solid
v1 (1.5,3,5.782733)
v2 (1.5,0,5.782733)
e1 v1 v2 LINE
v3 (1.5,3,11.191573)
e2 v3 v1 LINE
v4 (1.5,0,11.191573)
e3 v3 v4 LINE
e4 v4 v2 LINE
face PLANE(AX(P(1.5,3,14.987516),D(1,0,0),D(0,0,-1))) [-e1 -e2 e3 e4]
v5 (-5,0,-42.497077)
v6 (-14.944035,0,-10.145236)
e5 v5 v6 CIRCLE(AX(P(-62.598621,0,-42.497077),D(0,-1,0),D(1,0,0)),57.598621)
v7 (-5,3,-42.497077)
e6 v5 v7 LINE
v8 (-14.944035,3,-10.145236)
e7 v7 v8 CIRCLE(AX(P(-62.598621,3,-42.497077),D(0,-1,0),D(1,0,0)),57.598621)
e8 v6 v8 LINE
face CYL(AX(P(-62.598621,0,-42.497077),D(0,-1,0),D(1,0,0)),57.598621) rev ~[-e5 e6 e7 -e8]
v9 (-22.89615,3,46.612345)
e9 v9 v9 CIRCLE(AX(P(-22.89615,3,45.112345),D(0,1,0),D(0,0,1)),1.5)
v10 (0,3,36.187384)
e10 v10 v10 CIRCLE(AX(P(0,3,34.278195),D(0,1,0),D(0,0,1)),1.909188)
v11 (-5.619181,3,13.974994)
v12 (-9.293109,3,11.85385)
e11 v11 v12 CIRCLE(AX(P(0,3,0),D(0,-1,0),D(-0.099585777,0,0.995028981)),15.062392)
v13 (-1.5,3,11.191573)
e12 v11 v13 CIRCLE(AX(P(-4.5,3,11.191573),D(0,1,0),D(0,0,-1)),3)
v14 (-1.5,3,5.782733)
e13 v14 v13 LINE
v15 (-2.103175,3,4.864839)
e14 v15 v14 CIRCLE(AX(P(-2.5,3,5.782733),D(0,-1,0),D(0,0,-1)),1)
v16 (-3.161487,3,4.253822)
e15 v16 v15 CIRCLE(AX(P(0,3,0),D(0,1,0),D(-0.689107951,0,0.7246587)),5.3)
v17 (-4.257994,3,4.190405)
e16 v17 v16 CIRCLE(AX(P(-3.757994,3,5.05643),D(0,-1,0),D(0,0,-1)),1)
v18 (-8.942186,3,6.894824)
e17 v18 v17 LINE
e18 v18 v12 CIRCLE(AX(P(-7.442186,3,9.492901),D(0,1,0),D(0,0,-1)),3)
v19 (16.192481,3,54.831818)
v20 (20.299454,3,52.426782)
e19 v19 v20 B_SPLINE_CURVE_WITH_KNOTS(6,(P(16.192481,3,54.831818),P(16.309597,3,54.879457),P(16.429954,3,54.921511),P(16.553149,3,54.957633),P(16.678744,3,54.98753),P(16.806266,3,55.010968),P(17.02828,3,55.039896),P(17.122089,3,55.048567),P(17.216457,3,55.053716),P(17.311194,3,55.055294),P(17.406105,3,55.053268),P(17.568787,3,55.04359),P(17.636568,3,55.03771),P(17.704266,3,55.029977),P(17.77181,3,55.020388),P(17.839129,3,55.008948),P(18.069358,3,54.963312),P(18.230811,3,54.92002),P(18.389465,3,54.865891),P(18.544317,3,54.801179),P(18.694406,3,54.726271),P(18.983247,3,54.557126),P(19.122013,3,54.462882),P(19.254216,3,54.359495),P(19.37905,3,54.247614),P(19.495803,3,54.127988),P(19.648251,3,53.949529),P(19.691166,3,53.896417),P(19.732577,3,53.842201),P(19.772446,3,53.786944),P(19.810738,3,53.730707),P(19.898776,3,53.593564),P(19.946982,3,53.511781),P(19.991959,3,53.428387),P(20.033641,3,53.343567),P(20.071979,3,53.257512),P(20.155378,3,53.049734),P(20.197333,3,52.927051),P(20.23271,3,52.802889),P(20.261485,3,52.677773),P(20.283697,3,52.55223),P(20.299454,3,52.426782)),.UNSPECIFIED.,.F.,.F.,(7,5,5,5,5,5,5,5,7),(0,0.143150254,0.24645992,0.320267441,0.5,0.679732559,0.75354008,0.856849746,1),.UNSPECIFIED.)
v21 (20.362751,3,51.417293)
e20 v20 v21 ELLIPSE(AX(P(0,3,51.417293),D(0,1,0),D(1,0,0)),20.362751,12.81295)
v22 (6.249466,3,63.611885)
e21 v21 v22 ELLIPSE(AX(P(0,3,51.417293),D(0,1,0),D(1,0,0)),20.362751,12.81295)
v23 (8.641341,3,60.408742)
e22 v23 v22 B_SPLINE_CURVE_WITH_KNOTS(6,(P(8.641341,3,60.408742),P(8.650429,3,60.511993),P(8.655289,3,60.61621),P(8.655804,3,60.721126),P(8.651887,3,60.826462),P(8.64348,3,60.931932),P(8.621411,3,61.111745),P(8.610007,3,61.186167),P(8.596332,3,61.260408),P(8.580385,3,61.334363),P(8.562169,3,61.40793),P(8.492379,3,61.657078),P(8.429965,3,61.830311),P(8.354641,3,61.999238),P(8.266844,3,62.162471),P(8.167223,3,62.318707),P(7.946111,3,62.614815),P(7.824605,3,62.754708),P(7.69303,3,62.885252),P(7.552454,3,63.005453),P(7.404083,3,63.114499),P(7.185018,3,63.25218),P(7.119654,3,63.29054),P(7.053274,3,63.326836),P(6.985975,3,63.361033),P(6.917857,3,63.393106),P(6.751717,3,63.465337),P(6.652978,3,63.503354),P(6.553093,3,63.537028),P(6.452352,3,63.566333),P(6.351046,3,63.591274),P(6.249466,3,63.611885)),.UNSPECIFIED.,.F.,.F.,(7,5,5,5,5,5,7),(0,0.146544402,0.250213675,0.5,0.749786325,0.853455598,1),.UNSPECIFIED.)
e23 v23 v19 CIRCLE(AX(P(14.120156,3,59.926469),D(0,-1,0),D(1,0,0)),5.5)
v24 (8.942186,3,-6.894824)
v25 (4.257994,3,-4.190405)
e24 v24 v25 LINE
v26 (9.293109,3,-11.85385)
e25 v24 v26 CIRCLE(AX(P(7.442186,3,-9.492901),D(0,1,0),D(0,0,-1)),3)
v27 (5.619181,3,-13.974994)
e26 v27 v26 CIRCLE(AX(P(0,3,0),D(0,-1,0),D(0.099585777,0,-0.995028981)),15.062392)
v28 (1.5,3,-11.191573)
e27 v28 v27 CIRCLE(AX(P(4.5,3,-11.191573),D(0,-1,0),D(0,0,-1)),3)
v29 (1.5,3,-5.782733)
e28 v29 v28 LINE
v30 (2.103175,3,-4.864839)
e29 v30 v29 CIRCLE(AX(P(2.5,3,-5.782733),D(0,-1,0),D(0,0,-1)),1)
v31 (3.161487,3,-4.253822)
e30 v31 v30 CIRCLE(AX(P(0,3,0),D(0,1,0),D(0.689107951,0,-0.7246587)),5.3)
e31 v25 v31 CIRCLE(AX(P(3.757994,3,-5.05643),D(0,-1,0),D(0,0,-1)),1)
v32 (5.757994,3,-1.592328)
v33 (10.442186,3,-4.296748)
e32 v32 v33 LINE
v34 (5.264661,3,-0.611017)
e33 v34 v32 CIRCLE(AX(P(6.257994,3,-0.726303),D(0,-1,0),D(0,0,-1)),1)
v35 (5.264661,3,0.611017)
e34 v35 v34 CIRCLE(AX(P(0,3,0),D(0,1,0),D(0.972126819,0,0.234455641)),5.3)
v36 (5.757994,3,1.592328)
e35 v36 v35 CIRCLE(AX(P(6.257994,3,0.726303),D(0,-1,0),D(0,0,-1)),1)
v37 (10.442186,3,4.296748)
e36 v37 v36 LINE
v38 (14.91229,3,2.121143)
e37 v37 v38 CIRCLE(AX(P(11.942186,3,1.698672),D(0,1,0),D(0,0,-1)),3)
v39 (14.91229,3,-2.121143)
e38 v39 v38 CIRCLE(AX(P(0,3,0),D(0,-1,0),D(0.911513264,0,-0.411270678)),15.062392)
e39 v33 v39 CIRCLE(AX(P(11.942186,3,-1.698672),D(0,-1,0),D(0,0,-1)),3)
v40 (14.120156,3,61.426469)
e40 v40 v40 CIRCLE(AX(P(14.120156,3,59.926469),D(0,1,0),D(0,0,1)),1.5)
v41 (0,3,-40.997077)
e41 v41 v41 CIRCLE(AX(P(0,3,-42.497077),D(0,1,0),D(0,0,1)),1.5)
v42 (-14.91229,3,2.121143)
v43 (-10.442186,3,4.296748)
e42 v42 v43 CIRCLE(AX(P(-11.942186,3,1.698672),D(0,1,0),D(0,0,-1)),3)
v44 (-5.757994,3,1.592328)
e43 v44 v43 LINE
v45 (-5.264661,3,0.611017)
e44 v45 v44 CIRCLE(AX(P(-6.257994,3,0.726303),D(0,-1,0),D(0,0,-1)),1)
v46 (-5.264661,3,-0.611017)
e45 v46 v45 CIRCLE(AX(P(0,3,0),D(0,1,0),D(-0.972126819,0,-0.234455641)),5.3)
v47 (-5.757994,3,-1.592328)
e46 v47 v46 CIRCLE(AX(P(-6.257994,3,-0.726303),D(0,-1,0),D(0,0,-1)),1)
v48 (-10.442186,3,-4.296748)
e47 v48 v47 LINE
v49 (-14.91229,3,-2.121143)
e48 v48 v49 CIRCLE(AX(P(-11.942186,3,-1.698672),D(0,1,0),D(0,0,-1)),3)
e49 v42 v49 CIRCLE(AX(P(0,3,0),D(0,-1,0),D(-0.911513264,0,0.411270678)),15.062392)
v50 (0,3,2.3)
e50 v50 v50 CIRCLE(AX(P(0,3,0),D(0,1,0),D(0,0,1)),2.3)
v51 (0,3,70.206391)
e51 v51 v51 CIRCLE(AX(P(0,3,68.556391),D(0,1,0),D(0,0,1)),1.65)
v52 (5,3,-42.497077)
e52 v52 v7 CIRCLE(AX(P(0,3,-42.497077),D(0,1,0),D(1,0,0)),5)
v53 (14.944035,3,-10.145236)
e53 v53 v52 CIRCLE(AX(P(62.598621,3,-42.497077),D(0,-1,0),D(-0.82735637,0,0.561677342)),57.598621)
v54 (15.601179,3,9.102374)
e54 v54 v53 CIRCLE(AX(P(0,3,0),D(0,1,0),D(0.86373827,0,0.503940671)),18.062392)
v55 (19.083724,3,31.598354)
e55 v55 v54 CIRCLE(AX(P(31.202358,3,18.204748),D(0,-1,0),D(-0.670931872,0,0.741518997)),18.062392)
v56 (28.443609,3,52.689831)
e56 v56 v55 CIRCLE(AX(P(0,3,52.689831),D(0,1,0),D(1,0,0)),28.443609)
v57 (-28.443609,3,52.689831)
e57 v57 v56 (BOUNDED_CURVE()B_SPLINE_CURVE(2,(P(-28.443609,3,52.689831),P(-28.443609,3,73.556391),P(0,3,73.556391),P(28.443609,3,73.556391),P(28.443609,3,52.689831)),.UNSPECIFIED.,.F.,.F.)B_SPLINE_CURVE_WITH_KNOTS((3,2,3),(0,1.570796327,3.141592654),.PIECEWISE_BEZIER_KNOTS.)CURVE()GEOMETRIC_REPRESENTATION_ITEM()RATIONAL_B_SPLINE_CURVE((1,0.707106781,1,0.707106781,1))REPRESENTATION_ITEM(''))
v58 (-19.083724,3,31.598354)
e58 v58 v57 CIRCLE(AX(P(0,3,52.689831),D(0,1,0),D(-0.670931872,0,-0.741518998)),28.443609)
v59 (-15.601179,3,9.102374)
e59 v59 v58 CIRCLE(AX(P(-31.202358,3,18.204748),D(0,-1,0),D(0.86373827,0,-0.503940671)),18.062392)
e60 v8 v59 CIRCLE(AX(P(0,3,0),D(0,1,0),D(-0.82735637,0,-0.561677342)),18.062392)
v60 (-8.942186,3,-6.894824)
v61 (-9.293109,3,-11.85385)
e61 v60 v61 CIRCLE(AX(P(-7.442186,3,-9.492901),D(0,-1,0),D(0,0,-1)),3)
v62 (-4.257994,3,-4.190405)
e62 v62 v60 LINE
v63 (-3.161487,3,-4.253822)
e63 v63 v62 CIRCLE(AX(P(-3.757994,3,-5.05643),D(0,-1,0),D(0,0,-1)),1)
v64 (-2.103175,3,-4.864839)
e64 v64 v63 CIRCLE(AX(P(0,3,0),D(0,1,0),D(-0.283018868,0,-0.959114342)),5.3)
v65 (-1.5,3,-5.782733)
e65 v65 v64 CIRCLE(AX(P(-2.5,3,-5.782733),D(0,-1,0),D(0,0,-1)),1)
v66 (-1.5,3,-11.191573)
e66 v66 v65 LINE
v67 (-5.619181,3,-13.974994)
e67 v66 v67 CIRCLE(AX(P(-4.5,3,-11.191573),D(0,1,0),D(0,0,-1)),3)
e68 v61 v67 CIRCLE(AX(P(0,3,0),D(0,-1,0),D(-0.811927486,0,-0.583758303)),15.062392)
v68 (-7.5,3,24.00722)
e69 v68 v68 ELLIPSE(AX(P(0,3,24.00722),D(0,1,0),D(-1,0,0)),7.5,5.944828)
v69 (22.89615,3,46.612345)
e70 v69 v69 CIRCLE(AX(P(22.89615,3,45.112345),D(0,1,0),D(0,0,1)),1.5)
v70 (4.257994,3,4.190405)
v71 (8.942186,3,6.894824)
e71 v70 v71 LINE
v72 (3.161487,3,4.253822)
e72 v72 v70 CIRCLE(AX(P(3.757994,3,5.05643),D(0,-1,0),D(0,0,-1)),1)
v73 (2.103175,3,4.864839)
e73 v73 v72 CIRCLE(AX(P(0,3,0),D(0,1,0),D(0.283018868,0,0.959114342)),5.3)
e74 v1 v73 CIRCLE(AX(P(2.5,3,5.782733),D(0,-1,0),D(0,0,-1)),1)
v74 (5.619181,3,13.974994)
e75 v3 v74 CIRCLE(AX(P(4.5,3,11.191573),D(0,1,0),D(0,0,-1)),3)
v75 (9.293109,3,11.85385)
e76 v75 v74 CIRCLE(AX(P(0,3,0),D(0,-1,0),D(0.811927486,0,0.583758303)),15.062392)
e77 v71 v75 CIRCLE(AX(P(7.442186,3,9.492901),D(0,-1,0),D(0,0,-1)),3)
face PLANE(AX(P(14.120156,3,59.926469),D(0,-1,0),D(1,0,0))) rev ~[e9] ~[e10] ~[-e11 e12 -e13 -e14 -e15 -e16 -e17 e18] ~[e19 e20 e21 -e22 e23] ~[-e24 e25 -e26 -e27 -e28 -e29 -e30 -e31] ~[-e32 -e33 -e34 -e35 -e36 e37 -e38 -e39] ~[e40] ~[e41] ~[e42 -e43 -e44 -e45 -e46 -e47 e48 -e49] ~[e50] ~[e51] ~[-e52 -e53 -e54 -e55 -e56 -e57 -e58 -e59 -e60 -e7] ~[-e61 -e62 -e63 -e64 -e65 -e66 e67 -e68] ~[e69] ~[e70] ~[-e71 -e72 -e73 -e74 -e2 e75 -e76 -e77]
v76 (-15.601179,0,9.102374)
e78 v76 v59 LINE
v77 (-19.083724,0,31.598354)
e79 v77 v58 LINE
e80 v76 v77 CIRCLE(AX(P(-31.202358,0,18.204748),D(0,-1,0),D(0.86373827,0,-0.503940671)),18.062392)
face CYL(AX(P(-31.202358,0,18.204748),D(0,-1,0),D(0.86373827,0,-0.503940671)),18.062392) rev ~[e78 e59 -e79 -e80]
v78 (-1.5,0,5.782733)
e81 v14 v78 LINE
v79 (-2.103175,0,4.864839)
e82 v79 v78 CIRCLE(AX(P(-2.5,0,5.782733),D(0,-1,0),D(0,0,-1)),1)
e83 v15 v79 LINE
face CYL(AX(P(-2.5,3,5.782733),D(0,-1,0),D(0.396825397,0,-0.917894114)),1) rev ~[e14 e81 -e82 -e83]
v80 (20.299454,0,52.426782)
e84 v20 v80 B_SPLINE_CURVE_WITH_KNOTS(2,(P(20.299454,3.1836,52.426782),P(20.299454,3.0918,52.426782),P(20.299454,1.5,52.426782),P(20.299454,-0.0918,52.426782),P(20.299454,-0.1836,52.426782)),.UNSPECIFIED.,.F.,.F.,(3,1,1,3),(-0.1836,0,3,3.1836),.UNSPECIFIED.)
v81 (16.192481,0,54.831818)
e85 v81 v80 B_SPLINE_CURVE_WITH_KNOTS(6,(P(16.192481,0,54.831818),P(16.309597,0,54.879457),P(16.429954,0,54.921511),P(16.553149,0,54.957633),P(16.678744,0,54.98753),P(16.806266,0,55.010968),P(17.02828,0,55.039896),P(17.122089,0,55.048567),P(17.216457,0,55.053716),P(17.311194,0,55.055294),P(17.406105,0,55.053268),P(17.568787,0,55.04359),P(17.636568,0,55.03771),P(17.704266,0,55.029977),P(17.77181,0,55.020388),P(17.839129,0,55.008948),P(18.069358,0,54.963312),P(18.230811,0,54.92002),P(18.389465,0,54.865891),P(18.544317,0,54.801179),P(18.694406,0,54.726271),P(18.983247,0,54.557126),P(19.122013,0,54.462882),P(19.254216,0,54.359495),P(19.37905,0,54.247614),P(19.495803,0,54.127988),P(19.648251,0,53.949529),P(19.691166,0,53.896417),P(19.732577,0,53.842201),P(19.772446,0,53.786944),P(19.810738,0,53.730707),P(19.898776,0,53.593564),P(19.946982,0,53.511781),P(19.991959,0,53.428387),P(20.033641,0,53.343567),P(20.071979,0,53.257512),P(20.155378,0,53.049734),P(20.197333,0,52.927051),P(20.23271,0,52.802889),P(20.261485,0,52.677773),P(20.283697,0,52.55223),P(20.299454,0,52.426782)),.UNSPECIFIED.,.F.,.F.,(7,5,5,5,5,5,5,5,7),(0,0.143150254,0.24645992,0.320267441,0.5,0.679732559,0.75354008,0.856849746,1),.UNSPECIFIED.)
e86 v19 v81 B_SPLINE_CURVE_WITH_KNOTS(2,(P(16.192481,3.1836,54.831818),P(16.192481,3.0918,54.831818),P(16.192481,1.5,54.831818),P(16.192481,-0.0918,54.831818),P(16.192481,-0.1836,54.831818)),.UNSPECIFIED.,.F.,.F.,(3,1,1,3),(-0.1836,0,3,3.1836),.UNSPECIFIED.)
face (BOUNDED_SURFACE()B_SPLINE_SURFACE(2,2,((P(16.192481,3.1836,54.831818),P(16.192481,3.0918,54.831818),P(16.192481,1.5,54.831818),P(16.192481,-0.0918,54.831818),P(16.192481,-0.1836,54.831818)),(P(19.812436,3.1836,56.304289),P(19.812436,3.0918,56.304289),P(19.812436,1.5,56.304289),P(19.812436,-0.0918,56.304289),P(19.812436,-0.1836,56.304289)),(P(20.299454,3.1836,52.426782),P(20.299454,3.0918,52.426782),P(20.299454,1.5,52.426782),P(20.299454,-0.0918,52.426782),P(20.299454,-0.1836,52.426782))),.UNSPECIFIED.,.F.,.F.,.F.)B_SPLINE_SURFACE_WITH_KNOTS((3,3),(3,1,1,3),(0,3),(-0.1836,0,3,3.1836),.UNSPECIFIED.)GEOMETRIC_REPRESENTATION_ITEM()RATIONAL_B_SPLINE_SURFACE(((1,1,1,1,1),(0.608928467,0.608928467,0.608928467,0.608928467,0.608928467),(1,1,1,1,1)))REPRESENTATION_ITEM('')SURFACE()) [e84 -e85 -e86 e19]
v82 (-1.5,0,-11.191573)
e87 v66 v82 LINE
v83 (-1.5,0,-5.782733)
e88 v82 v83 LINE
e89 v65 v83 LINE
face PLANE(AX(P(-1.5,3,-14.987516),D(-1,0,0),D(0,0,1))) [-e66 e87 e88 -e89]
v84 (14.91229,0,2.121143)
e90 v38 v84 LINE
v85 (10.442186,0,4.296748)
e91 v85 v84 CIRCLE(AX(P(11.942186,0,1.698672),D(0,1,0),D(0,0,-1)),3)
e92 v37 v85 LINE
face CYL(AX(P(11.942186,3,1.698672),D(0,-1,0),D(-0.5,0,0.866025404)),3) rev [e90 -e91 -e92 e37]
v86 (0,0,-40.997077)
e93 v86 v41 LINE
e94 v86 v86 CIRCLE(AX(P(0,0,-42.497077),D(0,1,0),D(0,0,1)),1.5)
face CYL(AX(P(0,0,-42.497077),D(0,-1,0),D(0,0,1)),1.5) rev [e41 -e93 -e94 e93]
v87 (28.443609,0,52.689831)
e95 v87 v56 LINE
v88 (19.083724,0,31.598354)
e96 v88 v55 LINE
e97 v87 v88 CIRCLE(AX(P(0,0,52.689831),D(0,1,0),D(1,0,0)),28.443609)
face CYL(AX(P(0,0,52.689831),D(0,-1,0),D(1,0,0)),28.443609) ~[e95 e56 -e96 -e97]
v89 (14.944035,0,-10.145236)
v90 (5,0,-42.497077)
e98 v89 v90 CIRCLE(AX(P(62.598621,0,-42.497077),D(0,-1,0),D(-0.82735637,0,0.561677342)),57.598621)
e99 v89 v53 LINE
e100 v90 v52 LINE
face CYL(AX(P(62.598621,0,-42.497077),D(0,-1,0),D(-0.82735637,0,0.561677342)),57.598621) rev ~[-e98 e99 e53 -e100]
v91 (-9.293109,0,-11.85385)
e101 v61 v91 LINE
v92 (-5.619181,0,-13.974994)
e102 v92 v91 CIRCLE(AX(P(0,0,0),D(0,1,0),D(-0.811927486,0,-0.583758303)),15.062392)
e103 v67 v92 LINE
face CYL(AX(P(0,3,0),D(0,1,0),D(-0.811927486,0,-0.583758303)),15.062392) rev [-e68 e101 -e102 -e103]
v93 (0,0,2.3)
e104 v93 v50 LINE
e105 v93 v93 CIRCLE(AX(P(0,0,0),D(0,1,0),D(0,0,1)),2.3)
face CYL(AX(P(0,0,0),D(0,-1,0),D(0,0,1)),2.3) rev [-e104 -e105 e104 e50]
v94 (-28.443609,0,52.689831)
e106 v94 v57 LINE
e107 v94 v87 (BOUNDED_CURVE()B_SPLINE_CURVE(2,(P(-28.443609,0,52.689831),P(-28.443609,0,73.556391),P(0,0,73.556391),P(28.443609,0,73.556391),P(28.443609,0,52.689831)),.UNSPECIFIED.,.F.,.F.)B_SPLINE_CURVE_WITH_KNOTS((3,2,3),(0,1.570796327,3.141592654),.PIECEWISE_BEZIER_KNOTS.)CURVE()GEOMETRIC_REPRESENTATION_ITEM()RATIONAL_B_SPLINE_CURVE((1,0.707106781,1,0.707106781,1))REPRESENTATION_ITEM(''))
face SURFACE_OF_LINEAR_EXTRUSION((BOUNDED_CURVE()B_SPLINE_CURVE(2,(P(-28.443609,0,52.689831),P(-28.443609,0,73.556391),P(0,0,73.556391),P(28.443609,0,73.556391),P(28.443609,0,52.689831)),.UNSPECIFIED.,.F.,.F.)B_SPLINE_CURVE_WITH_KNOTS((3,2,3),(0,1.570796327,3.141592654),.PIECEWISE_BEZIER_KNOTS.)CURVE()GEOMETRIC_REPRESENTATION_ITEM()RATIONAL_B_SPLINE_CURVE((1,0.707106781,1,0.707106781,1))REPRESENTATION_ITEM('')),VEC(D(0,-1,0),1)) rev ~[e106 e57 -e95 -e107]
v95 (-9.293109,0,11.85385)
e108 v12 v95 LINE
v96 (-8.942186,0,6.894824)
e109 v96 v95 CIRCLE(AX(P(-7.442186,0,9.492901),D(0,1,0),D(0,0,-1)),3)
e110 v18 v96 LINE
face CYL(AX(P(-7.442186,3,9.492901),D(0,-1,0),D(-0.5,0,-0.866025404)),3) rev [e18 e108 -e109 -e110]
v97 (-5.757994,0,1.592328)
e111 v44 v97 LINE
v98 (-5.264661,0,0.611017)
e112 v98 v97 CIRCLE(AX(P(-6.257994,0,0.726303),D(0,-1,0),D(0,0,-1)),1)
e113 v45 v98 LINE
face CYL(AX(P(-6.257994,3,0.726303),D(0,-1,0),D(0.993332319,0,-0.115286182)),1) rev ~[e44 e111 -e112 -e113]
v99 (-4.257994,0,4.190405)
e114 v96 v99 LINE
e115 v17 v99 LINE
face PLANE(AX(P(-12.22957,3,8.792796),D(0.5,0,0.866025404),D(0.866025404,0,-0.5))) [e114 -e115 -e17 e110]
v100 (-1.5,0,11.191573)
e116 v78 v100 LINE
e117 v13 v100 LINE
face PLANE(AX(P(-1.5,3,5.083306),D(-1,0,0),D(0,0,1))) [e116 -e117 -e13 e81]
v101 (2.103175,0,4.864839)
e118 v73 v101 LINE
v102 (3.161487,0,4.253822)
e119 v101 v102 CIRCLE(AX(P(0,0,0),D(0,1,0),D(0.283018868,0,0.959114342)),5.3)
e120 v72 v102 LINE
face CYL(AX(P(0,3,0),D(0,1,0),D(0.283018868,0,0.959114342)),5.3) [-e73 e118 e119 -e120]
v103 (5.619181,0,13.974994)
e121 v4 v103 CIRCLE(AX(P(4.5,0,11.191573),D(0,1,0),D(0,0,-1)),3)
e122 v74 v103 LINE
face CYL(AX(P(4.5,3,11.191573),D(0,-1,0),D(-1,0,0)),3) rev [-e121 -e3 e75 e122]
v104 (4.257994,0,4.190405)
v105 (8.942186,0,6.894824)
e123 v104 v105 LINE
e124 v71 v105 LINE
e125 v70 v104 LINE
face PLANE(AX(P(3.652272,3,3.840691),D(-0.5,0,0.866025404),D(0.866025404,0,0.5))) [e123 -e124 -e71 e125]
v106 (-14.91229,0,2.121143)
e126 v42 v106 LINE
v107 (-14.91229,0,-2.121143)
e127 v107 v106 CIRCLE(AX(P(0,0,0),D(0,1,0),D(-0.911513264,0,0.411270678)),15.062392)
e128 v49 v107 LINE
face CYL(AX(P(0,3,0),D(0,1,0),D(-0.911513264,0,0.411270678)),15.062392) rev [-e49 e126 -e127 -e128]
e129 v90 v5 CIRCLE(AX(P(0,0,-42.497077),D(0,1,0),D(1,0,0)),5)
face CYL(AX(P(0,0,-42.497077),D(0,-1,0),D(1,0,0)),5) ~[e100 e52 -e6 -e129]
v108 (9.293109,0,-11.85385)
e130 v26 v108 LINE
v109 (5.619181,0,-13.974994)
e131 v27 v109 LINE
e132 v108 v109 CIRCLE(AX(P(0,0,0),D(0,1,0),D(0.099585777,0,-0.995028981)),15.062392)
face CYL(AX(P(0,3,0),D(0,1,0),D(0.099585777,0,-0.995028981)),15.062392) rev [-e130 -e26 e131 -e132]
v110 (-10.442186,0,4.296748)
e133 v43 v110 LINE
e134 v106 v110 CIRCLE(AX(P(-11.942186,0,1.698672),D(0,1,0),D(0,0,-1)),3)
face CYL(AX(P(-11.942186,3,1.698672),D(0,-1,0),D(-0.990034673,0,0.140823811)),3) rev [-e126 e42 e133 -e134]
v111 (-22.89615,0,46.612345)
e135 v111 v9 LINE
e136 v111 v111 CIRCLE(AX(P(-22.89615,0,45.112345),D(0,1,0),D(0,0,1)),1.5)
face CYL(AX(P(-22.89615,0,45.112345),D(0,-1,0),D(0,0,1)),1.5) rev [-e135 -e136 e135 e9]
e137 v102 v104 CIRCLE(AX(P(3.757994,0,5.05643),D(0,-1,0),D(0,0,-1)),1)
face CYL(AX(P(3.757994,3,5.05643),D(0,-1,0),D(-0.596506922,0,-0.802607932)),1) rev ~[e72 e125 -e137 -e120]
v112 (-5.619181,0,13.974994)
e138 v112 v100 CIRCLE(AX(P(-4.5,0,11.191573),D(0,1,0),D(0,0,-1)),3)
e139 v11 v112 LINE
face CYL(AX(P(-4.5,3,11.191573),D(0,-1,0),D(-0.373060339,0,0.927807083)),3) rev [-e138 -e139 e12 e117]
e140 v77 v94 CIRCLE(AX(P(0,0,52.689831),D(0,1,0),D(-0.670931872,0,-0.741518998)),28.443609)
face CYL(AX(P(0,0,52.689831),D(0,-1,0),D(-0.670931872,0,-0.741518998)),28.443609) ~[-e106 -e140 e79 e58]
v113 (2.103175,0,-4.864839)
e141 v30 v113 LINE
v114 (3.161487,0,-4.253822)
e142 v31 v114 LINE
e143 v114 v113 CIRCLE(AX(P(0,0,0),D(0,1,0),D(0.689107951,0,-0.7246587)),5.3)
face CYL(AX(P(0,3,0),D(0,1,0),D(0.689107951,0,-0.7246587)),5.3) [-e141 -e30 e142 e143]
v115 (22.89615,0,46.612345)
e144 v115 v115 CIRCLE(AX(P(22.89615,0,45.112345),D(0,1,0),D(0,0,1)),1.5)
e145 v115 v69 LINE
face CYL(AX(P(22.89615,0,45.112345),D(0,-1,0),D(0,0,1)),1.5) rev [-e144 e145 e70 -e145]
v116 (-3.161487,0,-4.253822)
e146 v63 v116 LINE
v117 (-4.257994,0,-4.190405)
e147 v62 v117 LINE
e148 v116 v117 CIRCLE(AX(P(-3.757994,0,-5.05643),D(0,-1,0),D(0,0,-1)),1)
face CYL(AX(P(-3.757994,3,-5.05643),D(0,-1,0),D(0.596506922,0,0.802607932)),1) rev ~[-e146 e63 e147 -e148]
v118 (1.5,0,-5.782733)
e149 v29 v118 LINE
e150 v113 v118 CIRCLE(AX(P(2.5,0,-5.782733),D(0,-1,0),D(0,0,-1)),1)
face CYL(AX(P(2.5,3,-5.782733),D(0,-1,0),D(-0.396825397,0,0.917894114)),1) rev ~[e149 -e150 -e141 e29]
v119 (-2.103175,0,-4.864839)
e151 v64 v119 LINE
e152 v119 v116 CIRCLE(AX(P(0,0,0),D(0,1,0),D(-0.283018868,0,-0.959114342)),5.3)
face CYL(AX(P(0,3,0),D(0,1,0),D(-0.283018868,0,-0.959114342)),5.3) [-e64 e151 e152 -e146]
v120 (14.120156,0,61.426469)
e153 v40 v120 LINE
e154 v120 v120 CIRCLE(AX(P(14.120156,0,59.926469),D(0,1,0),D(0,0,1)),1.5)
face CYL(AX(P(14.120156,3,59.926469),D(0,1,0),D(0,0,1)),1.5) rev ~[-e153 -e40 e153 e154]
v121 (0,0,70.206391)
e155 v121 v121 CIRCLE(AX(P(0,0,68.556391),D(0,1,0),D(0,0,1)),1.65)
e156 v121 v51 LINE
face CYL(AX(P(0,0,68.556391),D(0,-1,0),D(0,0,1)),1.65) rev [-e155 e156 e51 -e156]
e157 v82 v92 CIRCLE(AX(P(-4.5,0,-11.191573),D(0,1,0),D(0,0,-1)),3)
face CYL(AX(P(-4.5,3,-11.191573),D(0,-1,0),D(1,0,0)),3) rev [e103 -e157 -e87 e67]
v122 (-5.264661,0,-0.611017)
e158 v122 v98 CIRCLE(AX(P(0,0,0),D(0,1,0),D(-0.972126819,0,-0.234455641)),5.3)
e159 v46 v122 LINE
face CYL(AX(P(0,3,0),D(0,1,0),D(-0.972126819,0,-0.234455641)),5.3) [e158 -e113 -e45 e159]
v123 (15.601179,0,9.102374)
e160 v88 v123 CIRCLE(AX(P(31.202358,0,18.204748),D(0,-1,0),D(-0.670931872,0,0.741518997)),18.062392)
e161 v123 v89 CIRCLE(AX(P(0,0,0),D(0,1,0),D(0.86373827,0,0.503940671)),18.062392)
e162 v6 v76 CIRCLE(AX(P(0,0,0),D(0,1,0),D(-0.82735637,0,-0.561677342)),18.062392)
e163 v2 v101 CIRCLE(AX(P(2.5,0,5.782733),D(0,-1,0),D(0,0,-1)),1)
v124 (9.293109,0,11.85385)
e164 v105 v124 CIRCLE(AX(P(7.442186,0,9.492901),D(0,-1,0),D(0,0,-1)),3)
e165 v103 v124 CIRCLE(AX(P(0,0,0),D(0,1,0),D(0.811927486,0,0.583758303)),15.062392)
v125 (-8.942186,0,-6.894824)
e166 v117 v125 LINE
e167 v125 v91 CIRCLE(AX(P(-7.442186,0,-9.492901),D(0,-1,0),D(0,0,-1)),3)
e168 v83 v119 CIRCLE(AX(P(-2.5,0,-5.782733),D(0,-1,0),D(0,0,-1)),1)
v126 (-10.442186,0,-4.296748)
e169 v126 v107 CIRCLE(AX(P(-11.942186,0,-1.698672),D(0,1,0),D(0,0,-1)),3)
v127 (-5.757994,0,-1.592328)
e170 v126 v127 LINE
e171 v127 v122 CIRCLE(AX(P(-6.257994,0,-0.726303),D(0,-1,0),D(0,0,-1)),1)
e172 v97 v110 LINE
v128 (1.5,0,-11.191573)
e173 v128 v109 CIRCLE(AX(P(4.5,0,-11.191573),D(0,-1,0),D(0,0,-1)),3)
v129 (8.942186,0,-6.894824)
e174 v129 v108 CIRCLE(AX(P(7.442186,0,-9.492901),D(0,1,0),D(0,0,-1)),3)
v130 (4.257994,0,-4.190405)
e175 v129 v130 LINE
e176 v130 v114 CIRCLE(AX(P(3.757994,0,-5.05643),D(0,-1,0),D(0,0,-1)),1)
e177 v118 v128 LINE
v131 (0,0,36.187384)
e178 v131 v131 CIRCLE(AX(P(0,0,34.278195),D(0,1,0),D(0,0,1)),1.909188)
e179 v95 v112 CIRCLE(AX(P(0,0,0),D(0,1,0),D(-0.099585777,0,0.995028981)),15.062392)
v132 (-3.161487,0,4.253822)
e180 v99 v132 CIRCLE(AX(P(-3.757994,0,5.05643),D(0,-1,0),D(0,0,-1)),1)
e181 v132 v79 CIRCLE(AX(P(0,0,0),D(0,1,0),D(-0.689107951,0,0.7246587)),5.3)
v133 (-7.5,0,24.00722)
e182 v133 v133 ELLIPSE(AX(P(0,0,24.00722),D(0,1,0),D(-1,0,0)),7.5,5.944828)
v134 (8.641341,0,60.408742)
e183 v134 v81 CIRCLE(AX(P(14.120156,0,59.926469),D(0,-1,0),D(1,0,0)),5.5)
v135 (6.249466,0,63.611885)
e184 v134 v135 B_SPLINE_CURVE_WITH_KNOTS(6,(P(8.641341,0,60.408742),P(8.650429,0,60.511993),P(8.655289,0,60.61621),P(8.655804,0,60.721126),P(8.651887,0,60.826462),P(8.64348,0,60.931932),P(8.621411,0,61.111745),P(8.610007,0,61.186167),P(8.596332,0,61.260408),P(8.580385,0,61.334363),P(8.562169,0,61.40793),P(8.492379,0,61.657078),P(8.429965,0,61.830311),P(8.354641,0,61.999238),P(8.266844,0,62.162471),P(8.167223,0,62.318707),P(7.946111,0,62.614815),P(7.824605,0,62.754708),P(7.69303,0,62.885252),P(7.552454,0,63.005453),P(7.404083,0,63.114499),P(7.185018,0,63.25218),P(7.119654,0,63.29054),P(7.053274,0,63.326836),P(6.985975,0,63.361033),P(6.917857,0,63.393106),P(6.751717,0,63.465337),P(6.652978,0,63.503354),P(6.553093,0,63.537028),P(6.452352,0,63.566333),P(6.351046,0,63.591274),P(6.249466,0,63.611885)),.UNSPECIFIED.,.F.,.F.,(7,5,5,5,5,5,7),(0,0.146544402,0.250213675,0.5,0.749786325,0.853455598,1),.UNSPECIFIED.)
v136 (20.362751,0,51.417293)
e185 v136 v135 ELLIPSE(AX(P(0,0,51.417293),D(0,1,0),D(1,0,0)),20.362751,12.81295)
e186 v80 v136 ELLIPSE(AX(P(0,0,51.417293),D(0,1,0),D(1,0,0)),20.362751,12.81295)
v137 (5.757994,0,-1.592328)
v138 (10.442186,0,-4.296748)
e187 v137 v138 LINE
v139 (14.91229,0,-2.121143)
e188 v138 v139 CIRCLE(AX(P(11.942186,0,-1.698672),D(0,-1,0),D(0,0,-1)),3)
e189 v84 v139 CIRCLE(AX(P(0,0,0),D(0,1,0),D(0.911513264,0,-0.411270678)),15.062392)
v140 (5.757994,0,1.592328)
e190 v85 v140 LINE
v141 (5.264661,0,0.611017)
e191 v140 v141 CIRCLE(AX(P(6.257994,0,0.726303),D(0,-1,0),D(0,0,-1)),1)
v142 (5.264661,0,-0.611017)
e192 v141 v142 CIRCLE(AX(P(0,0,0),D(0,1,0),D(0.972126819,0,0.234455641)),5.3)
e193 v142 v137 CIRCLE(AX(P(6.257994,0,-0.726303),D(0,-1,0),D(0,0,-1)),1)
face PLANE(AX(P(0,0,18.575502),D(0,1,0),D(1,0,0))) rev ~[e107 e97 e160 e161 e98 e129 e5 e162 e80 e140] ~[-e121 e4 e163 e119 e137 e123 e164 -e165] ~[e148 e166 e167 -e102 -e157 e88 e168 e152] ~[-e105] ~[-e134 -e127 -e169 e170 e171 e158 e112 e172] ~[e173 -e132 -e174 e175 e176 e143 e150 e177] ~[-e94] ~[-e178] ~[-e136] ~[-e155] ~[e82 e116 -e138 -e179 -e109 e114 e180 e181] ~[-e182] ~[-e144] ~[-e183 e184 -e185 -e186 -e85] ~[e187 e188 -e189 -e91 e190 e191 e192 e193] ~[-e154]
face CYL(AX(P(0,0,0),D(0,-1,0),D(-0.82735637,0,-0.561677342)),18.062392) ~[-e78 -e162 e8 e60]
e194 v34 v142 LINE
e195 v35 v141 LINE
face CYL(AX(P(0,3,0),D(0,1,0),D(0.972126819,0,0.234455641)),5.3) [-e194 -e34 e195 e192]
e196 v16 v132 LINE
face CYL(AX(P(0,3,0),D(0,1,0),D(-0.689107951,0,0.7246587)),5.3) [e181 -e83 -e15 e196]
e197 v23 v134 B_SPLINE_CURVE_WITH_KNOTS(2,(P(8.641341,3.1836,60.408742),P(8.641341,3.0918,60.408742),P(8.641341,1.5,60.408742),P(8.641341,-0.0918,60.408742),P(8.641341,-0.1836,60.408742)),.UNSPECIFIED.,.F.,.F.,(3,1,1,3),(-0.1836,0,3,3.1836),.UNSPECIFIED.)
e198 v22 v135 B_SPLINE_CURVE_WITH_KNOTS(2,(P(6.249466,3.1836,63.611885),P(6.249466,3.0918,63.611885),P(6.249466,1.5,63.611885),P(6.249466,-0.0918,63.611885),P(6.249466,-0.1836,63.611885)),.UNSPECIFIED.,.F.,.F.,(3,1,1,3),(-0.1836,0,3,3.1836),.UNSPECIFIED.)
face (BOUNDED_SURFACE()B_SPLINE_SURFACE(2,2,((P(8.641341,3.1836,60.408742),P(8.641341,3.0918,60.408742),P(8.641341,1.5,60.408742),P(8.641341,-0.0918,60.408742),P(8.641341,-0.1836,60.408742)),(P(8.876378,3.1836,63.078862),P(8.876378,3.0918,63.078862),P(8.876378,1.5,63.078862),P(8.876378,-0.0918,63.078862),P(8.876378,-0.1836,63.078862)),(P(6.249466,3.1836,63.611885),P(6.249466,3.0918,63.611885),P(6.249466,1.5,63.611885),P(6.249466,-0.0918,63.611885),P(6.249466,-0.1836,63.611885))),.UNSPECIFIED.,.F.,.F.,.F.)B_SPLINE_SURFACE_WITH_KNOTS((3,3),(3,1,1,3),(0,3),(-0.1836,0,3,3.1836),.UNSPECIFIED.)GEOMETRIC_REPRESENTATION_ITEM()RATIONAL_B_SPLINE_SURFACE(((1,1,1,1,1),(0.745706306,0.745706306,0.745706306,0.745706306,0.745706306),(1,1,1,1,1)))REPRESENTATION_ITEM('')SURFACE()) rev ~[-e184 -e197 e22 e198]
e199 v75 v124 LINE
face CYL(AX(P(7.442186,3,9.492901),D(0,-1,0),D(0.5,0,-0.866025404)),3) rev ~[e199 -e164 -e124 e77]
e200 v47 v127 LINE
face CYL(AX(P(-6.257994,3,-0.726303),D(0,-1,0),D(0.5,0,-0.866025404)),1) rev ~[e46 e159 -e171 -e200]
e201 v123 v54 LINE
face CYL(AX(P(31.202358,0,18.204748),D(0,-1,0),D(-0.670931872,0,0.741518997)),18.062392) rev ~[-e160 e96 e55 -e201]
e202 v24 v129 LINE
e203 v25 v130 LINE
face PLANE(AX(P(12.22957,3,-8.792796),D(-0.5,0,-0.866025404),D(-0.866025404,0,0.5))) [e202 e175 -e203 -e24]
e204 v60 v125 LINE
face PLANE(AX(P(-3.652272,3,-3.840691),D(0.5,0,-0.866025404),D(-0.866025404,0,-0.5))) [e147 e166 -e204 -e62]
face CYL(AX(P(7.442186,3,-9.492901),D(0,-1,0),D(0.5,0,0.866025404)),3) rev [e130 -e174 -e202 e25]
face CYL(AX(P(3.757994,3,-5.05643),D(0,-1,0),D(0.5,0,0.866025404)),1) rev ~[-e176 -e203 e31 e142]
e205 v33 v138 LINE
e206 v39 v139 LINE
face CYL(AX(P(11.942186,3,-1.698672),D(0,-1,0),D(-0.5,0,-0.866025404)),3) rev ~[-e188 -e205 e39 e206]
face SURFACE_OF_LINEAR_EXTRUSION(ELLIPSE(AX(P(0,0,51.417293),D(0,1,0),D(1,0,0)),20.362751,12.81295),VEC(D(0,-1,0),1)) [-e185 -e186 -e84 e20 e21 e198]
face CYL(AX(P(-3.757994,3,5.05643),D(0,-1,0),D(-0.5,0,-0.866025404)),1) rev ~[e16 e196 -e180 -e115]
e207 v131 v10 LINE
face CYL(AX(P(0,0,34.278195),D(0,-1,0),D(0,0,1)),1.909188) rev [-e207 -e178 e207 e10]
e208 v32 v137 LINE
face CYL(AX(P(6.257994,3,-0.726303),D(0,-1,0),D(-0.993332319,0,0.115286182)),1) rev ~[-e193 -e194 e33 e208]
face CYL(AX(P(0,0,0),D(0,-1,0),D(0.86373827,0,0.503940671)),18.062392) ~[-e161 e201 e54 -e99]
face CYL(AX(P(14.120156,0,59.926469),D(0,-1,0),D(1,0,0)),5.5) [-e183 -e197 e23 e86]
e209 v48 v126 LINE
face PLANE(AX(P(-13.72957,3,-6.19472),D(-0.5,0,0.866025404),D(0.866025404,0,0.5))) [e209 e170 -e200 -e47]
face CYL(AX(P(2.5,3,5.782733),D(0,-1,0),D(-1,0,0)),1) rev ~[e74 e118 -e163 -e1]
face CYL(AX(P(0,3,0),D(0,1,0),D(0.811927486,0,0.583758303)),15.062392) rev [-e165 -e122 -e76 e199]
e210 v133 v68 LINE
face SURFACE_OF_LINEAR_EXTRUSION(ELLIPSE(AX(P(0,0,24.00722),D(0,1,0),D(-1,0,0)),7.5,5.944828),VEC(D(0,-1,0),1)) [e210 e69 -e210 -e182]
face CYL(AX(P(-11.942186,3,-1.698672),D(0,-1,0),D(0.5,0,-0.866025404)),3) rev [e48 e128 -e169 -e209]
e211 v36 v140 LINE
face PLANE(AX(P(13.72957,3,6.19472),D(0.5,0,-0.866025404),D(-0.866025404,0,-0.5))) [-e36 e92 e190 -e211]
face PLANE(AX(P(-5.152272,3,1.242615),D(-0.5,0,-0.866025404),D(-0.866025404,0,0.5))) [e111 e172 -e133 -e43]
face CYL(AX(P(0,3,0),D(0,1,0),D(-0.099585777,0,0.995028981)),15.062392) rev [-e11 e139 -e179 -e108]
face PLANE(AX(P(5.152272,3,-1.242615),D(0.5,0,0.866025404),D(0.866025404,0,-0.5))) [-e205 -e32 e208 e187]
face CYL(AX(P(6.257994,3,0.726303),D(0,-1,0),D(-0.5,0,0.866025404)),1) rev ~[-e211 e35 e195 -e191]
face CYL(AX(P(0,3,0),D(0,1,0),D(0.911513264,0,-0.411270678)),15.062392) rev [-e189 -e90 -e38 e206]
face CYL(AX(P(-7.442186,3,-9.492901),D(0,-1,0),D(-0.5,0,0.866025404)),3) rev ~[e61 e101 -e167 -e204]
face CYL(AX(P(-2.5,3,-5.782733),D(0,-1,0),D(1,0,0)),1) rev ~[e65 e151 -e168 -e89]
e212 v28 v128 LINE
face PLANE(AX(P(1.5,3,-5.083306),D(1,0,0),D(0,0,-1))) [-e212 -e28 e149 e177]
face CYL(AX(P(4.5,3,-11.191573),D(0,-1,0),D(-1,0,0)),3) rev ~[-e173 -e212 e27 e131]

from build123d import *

# Parameters (mm, degrees)
SKETCH1_R                = 1.5
SKETCH1_R_2              = 2.3
SKETCH1_R_3              = 1.65
SKETCH1_R_4              = 1.909188309
SKETCH1_RX               = 20.362751378
SKETCH1_RY               = 12.812950259
SKETCH1_RX_2             = 7.5
SKETCH1_RY_2             = 5.944828068
BOSS_EXTRUDE1_DEPTH      = 3
SKETCH2_R                = 5.5
BOSS_EXTRUDE2_DEPTH      = 3
FILLET1_R                = 3
SKETCH3_R                = 1.5
CUT_EXTRUDE1_DEPTH       = 79.921363197
CUT_EXTRUDE2_DEPTH       = 79.921363197
FILLET2_R                = 3
FILLET3_R                = 1
CIRPATTERN1_COUNT        = 6
FILLET2_OF_CIRPATTERN1_R = 3
FILLET3_OF_CIRPATTERN1_R = 1


with BuildPart() as part:
    # Sketch1 → Boss-Extrude1 (new body)
    with BuildSketch(Plane(origin=(0, 0, 0), x_dir=(1, 0, 0), z_dir=(0, 1, 0))):
        with BuildLine():
            ThreePointArc((-14.944034973, 10.145236258), (-18.051873862, 0.616319792), (-15.601179111, -9.102373886))
            ThreePointArc((-15.601179111, -9.102373886), (-13.352587893, -20.968024673), (-19.083723838, -31.598354482))
            ThreePointArc((-19.083723838, -31.598354482), (-25.998546823, -41.152307046), (-28.443609023, -52.689830928))
            add(Edge.make_bspline(
                [(-28.443609023, -52.689830928), (-28.443609023, -73.556390977), (0, -73.556390977), (28.443609023, -73.556390977), (28.443609023, -52.689830928)],
                knots=[0, 0, 0, 1.570796327, 1.570796327, 3.141592654, 3.141592654, 3.141592654], degree=2, weights=[1, 0.707106781, 1, 0.707106781, 1]))
            ThreePointArc((28.443609023, -52.689830928), (25.998546823, -41.152307046), (19.083723838, -31.598354482))
            ThreePointArc((19.083723838, -31.598354482), (13.352587893, -20.968024673), (15.601179111, -9.102373886))
            ThreePointArc((15.601179111, -9.102373886), (18.051873862, 0.616319792), (14.944034973, 10.145236258))
            ThreePointArc((14.944034973, 10.145236258), (7.542106487, 25.574270902), (5, 42.497076519))
            ThreePointArc((5, 42.497076519), (0, 47.497076519), (-5, 42.497076519))
            ThreePointArc((-5, 42.497076519), (-7.542106487, 25.574270902), (-14.944034973, 10.145236258))
        make_face()
        with Locations(Location((22.896149501, -45.11234526, 0), (0, 0, 270))):
            Circle(SKETCH1_R, mode=Mode.SUBTRACT)
        with Locations(Location((-22.896149501, -45.11234526, 0), (0, 0, 270))):
            Circle(SKETCH1_R, mode=Mode.SUBTRACT)
        with Locations(Location((0, 0, 0), (0, 0, 270))):
            Circle(SKETCH1_R_2, mode=Mode.SUBTRACT)
        with Locations(Location((0, 42.497076519, 0), (0, 0, 270))):
            Circle(SKETCH1_R, mode=Mode.SUBTRACT)
        with Locations(Location((0, -68.556390977, 0), (0, 0, 270))):
            Circle(SKETCH1_R_3, mode=Mode.SUBTRACT)
        with Locations(Location((0, -34.278195489, 0), (0, 0, 270))):
            Circle(SKETCH1_R_4, mode=Mode.SUBTRACT)
        with Locations((0, -51.417293233)):
            Ellipse(SKETCH1_RX, SKETCH1_RY, mode=Mode.SUBTRACT)
        with Locations(Location((0, -24.007219936), (0, 0, -180))):
            Ellipse(SKETCH1_RX_2, SKETCH1_RY_2, mode=Mode.SUBTRACT)
    extrude(amount=BOSS_EXTRUDE1_DEPTH)

    # Sketch2 → Boss-Extrude2 (add)
    with BuildSketch(Plane.XZ):
        with Locations((14.120155711, 59.926468993)):
            Circle(SKETCH2_R)
    extrude(amount=-BOSS_EXTRUDE2_DEPTH)

    # Fillet1
    fillet1_edges = [part.edges().sort_by_distance(p)[0] for p in [
        (9.416956428, 1.5, 62.777769838),
        (18.562854805, 1.5, 56.684182029),
    ]]
    fillet(fillet1_edges, radius=FILLET1_R)

    # Sketch3 → Cut-Extrude1 (cut, through all)
    with BuildSketch(Plane(origin=(0, 3, 0), x_dir=(1, 0, 0), z_dir=(0, 1, 0))):
        with Locations(Location((14.120155711, -59.926468993, 0), (0, 0, 270))):
            Circle(SKETCH3_R)
    extrude(amount=-CUT_EXTRUDE1_DEPTH, mode=Mode.SUBTRACT)

    # Sketch4 → Cut-Extrude2 (cut, through all)
    with BuildSketch(Plane(origin=(0, 3, 0), x_dir=(1, 0, 0), z_dir=(0, 1, 0))):
        with BuildLine():
            Line((-1.5, -5.083306011), (-1.5, -14.987516432))
            ThreePointArc((-1.5, -14.987516432), (-7.531195934, -13.044414), (-12.229569969, -8.792796322))
            Line((-12.229569969, -8.792796322), (-3.652272141, -3.840691111))
            ThreePointArc((-3.652272141, -3.840691111), (-2.65, -4.58993464), (-1.5, -5.083306011))
        make_face()
    cut_extrude2 = extrude(amount=-CUT_EXTRUDE2_DEPTH, mode=Mode.SUBTRACT)

    # Fillet2
    fillet2_edges = [part.edges().sort_by_distance(p)[0] for p in [
        (-1.5, 1.5, 14.987516432),
        (-12.229569969, 1.5, 8.792796322),
    ]]
    fillet(fillet2_edges, radius=FILLET2_R)

    # Fillet3
    fillet3_edges = [part.edges().sort_by_distance(p)[0] for p in [
        (-3.652272141, 1.5, 3.840691111),
        (-1.5, 1.5, 5.083306011),
    ]]
    fillet(fillet3_edges, radius=FILLET3_R)

    # CirPattern1: Cut-Extrude2 ×6 about axis
    cirpattern1_axis = Axis((0, 0, 0), (0, 1, 0))
    for i in range(1, CIRPATTERN1_COUNT):
        add(cut_extrude2.rotate(cirpattern1_axis, i * 360 / CIRPATTERN1_COUNT), mode=Mode.SUBTRACT)

    # Fillet2 of CirPattern1
    fillet2_of_cirpattern1_edges = [part.edges().sort_by_distance(p)[0] for p in [
        (12.229569969, 1.5, 8.792796322),
        (1.5, 1.5, 14.987516432),
        (13.72956997, 1.5, -6.19472011),
        (13.72956997, 1.5, 6.19472011),
        (1.5, 1.5, -14.987516432),
        (12.229569969, 1.5, -8.792796322),
        (-12.229569969, 1.5, -8.792796322),
        (-1.5, 1.5, -14.987516432),
        (-13.72956997, 1.5, 6.19472011),
        (-13.72956997, 1.5, -6.19472011),
    ]]
    fillet(fillet2_of_cirpattern1_edges, radius=FILLET2_OF_CIRPATTERN1_R)

    # Fillet3 of CirPattern1
    fillet3_of_cirpattern1_edges = [part.edges().sort_by_distance(p)[0] for p in [
        (1.5, 1.5, 5.083306011),
        (3.652272141, 1.5, 3.840691111),
        (5.152272141, 1.5, 1.2426149),
        (5.152272141, 1.5, -1.2426149),
        (3.652272141, 1.5, -3.840691111),
        (1.5, 1.5, -5.083306011),
        (-1.5, 1.5, -5.083306011),
        (-3.652272141, 1.5, -3.840691111),
        (-5.152272141, 1.5, -1.2426149),
        (-5.152272141, 1.5, 1.2426149),
    ]]
    fillet(fillet3_of_cirpattern1_edges, radius=FILLET3_OF_CIRPATTERN1_R)


solid = part.part
